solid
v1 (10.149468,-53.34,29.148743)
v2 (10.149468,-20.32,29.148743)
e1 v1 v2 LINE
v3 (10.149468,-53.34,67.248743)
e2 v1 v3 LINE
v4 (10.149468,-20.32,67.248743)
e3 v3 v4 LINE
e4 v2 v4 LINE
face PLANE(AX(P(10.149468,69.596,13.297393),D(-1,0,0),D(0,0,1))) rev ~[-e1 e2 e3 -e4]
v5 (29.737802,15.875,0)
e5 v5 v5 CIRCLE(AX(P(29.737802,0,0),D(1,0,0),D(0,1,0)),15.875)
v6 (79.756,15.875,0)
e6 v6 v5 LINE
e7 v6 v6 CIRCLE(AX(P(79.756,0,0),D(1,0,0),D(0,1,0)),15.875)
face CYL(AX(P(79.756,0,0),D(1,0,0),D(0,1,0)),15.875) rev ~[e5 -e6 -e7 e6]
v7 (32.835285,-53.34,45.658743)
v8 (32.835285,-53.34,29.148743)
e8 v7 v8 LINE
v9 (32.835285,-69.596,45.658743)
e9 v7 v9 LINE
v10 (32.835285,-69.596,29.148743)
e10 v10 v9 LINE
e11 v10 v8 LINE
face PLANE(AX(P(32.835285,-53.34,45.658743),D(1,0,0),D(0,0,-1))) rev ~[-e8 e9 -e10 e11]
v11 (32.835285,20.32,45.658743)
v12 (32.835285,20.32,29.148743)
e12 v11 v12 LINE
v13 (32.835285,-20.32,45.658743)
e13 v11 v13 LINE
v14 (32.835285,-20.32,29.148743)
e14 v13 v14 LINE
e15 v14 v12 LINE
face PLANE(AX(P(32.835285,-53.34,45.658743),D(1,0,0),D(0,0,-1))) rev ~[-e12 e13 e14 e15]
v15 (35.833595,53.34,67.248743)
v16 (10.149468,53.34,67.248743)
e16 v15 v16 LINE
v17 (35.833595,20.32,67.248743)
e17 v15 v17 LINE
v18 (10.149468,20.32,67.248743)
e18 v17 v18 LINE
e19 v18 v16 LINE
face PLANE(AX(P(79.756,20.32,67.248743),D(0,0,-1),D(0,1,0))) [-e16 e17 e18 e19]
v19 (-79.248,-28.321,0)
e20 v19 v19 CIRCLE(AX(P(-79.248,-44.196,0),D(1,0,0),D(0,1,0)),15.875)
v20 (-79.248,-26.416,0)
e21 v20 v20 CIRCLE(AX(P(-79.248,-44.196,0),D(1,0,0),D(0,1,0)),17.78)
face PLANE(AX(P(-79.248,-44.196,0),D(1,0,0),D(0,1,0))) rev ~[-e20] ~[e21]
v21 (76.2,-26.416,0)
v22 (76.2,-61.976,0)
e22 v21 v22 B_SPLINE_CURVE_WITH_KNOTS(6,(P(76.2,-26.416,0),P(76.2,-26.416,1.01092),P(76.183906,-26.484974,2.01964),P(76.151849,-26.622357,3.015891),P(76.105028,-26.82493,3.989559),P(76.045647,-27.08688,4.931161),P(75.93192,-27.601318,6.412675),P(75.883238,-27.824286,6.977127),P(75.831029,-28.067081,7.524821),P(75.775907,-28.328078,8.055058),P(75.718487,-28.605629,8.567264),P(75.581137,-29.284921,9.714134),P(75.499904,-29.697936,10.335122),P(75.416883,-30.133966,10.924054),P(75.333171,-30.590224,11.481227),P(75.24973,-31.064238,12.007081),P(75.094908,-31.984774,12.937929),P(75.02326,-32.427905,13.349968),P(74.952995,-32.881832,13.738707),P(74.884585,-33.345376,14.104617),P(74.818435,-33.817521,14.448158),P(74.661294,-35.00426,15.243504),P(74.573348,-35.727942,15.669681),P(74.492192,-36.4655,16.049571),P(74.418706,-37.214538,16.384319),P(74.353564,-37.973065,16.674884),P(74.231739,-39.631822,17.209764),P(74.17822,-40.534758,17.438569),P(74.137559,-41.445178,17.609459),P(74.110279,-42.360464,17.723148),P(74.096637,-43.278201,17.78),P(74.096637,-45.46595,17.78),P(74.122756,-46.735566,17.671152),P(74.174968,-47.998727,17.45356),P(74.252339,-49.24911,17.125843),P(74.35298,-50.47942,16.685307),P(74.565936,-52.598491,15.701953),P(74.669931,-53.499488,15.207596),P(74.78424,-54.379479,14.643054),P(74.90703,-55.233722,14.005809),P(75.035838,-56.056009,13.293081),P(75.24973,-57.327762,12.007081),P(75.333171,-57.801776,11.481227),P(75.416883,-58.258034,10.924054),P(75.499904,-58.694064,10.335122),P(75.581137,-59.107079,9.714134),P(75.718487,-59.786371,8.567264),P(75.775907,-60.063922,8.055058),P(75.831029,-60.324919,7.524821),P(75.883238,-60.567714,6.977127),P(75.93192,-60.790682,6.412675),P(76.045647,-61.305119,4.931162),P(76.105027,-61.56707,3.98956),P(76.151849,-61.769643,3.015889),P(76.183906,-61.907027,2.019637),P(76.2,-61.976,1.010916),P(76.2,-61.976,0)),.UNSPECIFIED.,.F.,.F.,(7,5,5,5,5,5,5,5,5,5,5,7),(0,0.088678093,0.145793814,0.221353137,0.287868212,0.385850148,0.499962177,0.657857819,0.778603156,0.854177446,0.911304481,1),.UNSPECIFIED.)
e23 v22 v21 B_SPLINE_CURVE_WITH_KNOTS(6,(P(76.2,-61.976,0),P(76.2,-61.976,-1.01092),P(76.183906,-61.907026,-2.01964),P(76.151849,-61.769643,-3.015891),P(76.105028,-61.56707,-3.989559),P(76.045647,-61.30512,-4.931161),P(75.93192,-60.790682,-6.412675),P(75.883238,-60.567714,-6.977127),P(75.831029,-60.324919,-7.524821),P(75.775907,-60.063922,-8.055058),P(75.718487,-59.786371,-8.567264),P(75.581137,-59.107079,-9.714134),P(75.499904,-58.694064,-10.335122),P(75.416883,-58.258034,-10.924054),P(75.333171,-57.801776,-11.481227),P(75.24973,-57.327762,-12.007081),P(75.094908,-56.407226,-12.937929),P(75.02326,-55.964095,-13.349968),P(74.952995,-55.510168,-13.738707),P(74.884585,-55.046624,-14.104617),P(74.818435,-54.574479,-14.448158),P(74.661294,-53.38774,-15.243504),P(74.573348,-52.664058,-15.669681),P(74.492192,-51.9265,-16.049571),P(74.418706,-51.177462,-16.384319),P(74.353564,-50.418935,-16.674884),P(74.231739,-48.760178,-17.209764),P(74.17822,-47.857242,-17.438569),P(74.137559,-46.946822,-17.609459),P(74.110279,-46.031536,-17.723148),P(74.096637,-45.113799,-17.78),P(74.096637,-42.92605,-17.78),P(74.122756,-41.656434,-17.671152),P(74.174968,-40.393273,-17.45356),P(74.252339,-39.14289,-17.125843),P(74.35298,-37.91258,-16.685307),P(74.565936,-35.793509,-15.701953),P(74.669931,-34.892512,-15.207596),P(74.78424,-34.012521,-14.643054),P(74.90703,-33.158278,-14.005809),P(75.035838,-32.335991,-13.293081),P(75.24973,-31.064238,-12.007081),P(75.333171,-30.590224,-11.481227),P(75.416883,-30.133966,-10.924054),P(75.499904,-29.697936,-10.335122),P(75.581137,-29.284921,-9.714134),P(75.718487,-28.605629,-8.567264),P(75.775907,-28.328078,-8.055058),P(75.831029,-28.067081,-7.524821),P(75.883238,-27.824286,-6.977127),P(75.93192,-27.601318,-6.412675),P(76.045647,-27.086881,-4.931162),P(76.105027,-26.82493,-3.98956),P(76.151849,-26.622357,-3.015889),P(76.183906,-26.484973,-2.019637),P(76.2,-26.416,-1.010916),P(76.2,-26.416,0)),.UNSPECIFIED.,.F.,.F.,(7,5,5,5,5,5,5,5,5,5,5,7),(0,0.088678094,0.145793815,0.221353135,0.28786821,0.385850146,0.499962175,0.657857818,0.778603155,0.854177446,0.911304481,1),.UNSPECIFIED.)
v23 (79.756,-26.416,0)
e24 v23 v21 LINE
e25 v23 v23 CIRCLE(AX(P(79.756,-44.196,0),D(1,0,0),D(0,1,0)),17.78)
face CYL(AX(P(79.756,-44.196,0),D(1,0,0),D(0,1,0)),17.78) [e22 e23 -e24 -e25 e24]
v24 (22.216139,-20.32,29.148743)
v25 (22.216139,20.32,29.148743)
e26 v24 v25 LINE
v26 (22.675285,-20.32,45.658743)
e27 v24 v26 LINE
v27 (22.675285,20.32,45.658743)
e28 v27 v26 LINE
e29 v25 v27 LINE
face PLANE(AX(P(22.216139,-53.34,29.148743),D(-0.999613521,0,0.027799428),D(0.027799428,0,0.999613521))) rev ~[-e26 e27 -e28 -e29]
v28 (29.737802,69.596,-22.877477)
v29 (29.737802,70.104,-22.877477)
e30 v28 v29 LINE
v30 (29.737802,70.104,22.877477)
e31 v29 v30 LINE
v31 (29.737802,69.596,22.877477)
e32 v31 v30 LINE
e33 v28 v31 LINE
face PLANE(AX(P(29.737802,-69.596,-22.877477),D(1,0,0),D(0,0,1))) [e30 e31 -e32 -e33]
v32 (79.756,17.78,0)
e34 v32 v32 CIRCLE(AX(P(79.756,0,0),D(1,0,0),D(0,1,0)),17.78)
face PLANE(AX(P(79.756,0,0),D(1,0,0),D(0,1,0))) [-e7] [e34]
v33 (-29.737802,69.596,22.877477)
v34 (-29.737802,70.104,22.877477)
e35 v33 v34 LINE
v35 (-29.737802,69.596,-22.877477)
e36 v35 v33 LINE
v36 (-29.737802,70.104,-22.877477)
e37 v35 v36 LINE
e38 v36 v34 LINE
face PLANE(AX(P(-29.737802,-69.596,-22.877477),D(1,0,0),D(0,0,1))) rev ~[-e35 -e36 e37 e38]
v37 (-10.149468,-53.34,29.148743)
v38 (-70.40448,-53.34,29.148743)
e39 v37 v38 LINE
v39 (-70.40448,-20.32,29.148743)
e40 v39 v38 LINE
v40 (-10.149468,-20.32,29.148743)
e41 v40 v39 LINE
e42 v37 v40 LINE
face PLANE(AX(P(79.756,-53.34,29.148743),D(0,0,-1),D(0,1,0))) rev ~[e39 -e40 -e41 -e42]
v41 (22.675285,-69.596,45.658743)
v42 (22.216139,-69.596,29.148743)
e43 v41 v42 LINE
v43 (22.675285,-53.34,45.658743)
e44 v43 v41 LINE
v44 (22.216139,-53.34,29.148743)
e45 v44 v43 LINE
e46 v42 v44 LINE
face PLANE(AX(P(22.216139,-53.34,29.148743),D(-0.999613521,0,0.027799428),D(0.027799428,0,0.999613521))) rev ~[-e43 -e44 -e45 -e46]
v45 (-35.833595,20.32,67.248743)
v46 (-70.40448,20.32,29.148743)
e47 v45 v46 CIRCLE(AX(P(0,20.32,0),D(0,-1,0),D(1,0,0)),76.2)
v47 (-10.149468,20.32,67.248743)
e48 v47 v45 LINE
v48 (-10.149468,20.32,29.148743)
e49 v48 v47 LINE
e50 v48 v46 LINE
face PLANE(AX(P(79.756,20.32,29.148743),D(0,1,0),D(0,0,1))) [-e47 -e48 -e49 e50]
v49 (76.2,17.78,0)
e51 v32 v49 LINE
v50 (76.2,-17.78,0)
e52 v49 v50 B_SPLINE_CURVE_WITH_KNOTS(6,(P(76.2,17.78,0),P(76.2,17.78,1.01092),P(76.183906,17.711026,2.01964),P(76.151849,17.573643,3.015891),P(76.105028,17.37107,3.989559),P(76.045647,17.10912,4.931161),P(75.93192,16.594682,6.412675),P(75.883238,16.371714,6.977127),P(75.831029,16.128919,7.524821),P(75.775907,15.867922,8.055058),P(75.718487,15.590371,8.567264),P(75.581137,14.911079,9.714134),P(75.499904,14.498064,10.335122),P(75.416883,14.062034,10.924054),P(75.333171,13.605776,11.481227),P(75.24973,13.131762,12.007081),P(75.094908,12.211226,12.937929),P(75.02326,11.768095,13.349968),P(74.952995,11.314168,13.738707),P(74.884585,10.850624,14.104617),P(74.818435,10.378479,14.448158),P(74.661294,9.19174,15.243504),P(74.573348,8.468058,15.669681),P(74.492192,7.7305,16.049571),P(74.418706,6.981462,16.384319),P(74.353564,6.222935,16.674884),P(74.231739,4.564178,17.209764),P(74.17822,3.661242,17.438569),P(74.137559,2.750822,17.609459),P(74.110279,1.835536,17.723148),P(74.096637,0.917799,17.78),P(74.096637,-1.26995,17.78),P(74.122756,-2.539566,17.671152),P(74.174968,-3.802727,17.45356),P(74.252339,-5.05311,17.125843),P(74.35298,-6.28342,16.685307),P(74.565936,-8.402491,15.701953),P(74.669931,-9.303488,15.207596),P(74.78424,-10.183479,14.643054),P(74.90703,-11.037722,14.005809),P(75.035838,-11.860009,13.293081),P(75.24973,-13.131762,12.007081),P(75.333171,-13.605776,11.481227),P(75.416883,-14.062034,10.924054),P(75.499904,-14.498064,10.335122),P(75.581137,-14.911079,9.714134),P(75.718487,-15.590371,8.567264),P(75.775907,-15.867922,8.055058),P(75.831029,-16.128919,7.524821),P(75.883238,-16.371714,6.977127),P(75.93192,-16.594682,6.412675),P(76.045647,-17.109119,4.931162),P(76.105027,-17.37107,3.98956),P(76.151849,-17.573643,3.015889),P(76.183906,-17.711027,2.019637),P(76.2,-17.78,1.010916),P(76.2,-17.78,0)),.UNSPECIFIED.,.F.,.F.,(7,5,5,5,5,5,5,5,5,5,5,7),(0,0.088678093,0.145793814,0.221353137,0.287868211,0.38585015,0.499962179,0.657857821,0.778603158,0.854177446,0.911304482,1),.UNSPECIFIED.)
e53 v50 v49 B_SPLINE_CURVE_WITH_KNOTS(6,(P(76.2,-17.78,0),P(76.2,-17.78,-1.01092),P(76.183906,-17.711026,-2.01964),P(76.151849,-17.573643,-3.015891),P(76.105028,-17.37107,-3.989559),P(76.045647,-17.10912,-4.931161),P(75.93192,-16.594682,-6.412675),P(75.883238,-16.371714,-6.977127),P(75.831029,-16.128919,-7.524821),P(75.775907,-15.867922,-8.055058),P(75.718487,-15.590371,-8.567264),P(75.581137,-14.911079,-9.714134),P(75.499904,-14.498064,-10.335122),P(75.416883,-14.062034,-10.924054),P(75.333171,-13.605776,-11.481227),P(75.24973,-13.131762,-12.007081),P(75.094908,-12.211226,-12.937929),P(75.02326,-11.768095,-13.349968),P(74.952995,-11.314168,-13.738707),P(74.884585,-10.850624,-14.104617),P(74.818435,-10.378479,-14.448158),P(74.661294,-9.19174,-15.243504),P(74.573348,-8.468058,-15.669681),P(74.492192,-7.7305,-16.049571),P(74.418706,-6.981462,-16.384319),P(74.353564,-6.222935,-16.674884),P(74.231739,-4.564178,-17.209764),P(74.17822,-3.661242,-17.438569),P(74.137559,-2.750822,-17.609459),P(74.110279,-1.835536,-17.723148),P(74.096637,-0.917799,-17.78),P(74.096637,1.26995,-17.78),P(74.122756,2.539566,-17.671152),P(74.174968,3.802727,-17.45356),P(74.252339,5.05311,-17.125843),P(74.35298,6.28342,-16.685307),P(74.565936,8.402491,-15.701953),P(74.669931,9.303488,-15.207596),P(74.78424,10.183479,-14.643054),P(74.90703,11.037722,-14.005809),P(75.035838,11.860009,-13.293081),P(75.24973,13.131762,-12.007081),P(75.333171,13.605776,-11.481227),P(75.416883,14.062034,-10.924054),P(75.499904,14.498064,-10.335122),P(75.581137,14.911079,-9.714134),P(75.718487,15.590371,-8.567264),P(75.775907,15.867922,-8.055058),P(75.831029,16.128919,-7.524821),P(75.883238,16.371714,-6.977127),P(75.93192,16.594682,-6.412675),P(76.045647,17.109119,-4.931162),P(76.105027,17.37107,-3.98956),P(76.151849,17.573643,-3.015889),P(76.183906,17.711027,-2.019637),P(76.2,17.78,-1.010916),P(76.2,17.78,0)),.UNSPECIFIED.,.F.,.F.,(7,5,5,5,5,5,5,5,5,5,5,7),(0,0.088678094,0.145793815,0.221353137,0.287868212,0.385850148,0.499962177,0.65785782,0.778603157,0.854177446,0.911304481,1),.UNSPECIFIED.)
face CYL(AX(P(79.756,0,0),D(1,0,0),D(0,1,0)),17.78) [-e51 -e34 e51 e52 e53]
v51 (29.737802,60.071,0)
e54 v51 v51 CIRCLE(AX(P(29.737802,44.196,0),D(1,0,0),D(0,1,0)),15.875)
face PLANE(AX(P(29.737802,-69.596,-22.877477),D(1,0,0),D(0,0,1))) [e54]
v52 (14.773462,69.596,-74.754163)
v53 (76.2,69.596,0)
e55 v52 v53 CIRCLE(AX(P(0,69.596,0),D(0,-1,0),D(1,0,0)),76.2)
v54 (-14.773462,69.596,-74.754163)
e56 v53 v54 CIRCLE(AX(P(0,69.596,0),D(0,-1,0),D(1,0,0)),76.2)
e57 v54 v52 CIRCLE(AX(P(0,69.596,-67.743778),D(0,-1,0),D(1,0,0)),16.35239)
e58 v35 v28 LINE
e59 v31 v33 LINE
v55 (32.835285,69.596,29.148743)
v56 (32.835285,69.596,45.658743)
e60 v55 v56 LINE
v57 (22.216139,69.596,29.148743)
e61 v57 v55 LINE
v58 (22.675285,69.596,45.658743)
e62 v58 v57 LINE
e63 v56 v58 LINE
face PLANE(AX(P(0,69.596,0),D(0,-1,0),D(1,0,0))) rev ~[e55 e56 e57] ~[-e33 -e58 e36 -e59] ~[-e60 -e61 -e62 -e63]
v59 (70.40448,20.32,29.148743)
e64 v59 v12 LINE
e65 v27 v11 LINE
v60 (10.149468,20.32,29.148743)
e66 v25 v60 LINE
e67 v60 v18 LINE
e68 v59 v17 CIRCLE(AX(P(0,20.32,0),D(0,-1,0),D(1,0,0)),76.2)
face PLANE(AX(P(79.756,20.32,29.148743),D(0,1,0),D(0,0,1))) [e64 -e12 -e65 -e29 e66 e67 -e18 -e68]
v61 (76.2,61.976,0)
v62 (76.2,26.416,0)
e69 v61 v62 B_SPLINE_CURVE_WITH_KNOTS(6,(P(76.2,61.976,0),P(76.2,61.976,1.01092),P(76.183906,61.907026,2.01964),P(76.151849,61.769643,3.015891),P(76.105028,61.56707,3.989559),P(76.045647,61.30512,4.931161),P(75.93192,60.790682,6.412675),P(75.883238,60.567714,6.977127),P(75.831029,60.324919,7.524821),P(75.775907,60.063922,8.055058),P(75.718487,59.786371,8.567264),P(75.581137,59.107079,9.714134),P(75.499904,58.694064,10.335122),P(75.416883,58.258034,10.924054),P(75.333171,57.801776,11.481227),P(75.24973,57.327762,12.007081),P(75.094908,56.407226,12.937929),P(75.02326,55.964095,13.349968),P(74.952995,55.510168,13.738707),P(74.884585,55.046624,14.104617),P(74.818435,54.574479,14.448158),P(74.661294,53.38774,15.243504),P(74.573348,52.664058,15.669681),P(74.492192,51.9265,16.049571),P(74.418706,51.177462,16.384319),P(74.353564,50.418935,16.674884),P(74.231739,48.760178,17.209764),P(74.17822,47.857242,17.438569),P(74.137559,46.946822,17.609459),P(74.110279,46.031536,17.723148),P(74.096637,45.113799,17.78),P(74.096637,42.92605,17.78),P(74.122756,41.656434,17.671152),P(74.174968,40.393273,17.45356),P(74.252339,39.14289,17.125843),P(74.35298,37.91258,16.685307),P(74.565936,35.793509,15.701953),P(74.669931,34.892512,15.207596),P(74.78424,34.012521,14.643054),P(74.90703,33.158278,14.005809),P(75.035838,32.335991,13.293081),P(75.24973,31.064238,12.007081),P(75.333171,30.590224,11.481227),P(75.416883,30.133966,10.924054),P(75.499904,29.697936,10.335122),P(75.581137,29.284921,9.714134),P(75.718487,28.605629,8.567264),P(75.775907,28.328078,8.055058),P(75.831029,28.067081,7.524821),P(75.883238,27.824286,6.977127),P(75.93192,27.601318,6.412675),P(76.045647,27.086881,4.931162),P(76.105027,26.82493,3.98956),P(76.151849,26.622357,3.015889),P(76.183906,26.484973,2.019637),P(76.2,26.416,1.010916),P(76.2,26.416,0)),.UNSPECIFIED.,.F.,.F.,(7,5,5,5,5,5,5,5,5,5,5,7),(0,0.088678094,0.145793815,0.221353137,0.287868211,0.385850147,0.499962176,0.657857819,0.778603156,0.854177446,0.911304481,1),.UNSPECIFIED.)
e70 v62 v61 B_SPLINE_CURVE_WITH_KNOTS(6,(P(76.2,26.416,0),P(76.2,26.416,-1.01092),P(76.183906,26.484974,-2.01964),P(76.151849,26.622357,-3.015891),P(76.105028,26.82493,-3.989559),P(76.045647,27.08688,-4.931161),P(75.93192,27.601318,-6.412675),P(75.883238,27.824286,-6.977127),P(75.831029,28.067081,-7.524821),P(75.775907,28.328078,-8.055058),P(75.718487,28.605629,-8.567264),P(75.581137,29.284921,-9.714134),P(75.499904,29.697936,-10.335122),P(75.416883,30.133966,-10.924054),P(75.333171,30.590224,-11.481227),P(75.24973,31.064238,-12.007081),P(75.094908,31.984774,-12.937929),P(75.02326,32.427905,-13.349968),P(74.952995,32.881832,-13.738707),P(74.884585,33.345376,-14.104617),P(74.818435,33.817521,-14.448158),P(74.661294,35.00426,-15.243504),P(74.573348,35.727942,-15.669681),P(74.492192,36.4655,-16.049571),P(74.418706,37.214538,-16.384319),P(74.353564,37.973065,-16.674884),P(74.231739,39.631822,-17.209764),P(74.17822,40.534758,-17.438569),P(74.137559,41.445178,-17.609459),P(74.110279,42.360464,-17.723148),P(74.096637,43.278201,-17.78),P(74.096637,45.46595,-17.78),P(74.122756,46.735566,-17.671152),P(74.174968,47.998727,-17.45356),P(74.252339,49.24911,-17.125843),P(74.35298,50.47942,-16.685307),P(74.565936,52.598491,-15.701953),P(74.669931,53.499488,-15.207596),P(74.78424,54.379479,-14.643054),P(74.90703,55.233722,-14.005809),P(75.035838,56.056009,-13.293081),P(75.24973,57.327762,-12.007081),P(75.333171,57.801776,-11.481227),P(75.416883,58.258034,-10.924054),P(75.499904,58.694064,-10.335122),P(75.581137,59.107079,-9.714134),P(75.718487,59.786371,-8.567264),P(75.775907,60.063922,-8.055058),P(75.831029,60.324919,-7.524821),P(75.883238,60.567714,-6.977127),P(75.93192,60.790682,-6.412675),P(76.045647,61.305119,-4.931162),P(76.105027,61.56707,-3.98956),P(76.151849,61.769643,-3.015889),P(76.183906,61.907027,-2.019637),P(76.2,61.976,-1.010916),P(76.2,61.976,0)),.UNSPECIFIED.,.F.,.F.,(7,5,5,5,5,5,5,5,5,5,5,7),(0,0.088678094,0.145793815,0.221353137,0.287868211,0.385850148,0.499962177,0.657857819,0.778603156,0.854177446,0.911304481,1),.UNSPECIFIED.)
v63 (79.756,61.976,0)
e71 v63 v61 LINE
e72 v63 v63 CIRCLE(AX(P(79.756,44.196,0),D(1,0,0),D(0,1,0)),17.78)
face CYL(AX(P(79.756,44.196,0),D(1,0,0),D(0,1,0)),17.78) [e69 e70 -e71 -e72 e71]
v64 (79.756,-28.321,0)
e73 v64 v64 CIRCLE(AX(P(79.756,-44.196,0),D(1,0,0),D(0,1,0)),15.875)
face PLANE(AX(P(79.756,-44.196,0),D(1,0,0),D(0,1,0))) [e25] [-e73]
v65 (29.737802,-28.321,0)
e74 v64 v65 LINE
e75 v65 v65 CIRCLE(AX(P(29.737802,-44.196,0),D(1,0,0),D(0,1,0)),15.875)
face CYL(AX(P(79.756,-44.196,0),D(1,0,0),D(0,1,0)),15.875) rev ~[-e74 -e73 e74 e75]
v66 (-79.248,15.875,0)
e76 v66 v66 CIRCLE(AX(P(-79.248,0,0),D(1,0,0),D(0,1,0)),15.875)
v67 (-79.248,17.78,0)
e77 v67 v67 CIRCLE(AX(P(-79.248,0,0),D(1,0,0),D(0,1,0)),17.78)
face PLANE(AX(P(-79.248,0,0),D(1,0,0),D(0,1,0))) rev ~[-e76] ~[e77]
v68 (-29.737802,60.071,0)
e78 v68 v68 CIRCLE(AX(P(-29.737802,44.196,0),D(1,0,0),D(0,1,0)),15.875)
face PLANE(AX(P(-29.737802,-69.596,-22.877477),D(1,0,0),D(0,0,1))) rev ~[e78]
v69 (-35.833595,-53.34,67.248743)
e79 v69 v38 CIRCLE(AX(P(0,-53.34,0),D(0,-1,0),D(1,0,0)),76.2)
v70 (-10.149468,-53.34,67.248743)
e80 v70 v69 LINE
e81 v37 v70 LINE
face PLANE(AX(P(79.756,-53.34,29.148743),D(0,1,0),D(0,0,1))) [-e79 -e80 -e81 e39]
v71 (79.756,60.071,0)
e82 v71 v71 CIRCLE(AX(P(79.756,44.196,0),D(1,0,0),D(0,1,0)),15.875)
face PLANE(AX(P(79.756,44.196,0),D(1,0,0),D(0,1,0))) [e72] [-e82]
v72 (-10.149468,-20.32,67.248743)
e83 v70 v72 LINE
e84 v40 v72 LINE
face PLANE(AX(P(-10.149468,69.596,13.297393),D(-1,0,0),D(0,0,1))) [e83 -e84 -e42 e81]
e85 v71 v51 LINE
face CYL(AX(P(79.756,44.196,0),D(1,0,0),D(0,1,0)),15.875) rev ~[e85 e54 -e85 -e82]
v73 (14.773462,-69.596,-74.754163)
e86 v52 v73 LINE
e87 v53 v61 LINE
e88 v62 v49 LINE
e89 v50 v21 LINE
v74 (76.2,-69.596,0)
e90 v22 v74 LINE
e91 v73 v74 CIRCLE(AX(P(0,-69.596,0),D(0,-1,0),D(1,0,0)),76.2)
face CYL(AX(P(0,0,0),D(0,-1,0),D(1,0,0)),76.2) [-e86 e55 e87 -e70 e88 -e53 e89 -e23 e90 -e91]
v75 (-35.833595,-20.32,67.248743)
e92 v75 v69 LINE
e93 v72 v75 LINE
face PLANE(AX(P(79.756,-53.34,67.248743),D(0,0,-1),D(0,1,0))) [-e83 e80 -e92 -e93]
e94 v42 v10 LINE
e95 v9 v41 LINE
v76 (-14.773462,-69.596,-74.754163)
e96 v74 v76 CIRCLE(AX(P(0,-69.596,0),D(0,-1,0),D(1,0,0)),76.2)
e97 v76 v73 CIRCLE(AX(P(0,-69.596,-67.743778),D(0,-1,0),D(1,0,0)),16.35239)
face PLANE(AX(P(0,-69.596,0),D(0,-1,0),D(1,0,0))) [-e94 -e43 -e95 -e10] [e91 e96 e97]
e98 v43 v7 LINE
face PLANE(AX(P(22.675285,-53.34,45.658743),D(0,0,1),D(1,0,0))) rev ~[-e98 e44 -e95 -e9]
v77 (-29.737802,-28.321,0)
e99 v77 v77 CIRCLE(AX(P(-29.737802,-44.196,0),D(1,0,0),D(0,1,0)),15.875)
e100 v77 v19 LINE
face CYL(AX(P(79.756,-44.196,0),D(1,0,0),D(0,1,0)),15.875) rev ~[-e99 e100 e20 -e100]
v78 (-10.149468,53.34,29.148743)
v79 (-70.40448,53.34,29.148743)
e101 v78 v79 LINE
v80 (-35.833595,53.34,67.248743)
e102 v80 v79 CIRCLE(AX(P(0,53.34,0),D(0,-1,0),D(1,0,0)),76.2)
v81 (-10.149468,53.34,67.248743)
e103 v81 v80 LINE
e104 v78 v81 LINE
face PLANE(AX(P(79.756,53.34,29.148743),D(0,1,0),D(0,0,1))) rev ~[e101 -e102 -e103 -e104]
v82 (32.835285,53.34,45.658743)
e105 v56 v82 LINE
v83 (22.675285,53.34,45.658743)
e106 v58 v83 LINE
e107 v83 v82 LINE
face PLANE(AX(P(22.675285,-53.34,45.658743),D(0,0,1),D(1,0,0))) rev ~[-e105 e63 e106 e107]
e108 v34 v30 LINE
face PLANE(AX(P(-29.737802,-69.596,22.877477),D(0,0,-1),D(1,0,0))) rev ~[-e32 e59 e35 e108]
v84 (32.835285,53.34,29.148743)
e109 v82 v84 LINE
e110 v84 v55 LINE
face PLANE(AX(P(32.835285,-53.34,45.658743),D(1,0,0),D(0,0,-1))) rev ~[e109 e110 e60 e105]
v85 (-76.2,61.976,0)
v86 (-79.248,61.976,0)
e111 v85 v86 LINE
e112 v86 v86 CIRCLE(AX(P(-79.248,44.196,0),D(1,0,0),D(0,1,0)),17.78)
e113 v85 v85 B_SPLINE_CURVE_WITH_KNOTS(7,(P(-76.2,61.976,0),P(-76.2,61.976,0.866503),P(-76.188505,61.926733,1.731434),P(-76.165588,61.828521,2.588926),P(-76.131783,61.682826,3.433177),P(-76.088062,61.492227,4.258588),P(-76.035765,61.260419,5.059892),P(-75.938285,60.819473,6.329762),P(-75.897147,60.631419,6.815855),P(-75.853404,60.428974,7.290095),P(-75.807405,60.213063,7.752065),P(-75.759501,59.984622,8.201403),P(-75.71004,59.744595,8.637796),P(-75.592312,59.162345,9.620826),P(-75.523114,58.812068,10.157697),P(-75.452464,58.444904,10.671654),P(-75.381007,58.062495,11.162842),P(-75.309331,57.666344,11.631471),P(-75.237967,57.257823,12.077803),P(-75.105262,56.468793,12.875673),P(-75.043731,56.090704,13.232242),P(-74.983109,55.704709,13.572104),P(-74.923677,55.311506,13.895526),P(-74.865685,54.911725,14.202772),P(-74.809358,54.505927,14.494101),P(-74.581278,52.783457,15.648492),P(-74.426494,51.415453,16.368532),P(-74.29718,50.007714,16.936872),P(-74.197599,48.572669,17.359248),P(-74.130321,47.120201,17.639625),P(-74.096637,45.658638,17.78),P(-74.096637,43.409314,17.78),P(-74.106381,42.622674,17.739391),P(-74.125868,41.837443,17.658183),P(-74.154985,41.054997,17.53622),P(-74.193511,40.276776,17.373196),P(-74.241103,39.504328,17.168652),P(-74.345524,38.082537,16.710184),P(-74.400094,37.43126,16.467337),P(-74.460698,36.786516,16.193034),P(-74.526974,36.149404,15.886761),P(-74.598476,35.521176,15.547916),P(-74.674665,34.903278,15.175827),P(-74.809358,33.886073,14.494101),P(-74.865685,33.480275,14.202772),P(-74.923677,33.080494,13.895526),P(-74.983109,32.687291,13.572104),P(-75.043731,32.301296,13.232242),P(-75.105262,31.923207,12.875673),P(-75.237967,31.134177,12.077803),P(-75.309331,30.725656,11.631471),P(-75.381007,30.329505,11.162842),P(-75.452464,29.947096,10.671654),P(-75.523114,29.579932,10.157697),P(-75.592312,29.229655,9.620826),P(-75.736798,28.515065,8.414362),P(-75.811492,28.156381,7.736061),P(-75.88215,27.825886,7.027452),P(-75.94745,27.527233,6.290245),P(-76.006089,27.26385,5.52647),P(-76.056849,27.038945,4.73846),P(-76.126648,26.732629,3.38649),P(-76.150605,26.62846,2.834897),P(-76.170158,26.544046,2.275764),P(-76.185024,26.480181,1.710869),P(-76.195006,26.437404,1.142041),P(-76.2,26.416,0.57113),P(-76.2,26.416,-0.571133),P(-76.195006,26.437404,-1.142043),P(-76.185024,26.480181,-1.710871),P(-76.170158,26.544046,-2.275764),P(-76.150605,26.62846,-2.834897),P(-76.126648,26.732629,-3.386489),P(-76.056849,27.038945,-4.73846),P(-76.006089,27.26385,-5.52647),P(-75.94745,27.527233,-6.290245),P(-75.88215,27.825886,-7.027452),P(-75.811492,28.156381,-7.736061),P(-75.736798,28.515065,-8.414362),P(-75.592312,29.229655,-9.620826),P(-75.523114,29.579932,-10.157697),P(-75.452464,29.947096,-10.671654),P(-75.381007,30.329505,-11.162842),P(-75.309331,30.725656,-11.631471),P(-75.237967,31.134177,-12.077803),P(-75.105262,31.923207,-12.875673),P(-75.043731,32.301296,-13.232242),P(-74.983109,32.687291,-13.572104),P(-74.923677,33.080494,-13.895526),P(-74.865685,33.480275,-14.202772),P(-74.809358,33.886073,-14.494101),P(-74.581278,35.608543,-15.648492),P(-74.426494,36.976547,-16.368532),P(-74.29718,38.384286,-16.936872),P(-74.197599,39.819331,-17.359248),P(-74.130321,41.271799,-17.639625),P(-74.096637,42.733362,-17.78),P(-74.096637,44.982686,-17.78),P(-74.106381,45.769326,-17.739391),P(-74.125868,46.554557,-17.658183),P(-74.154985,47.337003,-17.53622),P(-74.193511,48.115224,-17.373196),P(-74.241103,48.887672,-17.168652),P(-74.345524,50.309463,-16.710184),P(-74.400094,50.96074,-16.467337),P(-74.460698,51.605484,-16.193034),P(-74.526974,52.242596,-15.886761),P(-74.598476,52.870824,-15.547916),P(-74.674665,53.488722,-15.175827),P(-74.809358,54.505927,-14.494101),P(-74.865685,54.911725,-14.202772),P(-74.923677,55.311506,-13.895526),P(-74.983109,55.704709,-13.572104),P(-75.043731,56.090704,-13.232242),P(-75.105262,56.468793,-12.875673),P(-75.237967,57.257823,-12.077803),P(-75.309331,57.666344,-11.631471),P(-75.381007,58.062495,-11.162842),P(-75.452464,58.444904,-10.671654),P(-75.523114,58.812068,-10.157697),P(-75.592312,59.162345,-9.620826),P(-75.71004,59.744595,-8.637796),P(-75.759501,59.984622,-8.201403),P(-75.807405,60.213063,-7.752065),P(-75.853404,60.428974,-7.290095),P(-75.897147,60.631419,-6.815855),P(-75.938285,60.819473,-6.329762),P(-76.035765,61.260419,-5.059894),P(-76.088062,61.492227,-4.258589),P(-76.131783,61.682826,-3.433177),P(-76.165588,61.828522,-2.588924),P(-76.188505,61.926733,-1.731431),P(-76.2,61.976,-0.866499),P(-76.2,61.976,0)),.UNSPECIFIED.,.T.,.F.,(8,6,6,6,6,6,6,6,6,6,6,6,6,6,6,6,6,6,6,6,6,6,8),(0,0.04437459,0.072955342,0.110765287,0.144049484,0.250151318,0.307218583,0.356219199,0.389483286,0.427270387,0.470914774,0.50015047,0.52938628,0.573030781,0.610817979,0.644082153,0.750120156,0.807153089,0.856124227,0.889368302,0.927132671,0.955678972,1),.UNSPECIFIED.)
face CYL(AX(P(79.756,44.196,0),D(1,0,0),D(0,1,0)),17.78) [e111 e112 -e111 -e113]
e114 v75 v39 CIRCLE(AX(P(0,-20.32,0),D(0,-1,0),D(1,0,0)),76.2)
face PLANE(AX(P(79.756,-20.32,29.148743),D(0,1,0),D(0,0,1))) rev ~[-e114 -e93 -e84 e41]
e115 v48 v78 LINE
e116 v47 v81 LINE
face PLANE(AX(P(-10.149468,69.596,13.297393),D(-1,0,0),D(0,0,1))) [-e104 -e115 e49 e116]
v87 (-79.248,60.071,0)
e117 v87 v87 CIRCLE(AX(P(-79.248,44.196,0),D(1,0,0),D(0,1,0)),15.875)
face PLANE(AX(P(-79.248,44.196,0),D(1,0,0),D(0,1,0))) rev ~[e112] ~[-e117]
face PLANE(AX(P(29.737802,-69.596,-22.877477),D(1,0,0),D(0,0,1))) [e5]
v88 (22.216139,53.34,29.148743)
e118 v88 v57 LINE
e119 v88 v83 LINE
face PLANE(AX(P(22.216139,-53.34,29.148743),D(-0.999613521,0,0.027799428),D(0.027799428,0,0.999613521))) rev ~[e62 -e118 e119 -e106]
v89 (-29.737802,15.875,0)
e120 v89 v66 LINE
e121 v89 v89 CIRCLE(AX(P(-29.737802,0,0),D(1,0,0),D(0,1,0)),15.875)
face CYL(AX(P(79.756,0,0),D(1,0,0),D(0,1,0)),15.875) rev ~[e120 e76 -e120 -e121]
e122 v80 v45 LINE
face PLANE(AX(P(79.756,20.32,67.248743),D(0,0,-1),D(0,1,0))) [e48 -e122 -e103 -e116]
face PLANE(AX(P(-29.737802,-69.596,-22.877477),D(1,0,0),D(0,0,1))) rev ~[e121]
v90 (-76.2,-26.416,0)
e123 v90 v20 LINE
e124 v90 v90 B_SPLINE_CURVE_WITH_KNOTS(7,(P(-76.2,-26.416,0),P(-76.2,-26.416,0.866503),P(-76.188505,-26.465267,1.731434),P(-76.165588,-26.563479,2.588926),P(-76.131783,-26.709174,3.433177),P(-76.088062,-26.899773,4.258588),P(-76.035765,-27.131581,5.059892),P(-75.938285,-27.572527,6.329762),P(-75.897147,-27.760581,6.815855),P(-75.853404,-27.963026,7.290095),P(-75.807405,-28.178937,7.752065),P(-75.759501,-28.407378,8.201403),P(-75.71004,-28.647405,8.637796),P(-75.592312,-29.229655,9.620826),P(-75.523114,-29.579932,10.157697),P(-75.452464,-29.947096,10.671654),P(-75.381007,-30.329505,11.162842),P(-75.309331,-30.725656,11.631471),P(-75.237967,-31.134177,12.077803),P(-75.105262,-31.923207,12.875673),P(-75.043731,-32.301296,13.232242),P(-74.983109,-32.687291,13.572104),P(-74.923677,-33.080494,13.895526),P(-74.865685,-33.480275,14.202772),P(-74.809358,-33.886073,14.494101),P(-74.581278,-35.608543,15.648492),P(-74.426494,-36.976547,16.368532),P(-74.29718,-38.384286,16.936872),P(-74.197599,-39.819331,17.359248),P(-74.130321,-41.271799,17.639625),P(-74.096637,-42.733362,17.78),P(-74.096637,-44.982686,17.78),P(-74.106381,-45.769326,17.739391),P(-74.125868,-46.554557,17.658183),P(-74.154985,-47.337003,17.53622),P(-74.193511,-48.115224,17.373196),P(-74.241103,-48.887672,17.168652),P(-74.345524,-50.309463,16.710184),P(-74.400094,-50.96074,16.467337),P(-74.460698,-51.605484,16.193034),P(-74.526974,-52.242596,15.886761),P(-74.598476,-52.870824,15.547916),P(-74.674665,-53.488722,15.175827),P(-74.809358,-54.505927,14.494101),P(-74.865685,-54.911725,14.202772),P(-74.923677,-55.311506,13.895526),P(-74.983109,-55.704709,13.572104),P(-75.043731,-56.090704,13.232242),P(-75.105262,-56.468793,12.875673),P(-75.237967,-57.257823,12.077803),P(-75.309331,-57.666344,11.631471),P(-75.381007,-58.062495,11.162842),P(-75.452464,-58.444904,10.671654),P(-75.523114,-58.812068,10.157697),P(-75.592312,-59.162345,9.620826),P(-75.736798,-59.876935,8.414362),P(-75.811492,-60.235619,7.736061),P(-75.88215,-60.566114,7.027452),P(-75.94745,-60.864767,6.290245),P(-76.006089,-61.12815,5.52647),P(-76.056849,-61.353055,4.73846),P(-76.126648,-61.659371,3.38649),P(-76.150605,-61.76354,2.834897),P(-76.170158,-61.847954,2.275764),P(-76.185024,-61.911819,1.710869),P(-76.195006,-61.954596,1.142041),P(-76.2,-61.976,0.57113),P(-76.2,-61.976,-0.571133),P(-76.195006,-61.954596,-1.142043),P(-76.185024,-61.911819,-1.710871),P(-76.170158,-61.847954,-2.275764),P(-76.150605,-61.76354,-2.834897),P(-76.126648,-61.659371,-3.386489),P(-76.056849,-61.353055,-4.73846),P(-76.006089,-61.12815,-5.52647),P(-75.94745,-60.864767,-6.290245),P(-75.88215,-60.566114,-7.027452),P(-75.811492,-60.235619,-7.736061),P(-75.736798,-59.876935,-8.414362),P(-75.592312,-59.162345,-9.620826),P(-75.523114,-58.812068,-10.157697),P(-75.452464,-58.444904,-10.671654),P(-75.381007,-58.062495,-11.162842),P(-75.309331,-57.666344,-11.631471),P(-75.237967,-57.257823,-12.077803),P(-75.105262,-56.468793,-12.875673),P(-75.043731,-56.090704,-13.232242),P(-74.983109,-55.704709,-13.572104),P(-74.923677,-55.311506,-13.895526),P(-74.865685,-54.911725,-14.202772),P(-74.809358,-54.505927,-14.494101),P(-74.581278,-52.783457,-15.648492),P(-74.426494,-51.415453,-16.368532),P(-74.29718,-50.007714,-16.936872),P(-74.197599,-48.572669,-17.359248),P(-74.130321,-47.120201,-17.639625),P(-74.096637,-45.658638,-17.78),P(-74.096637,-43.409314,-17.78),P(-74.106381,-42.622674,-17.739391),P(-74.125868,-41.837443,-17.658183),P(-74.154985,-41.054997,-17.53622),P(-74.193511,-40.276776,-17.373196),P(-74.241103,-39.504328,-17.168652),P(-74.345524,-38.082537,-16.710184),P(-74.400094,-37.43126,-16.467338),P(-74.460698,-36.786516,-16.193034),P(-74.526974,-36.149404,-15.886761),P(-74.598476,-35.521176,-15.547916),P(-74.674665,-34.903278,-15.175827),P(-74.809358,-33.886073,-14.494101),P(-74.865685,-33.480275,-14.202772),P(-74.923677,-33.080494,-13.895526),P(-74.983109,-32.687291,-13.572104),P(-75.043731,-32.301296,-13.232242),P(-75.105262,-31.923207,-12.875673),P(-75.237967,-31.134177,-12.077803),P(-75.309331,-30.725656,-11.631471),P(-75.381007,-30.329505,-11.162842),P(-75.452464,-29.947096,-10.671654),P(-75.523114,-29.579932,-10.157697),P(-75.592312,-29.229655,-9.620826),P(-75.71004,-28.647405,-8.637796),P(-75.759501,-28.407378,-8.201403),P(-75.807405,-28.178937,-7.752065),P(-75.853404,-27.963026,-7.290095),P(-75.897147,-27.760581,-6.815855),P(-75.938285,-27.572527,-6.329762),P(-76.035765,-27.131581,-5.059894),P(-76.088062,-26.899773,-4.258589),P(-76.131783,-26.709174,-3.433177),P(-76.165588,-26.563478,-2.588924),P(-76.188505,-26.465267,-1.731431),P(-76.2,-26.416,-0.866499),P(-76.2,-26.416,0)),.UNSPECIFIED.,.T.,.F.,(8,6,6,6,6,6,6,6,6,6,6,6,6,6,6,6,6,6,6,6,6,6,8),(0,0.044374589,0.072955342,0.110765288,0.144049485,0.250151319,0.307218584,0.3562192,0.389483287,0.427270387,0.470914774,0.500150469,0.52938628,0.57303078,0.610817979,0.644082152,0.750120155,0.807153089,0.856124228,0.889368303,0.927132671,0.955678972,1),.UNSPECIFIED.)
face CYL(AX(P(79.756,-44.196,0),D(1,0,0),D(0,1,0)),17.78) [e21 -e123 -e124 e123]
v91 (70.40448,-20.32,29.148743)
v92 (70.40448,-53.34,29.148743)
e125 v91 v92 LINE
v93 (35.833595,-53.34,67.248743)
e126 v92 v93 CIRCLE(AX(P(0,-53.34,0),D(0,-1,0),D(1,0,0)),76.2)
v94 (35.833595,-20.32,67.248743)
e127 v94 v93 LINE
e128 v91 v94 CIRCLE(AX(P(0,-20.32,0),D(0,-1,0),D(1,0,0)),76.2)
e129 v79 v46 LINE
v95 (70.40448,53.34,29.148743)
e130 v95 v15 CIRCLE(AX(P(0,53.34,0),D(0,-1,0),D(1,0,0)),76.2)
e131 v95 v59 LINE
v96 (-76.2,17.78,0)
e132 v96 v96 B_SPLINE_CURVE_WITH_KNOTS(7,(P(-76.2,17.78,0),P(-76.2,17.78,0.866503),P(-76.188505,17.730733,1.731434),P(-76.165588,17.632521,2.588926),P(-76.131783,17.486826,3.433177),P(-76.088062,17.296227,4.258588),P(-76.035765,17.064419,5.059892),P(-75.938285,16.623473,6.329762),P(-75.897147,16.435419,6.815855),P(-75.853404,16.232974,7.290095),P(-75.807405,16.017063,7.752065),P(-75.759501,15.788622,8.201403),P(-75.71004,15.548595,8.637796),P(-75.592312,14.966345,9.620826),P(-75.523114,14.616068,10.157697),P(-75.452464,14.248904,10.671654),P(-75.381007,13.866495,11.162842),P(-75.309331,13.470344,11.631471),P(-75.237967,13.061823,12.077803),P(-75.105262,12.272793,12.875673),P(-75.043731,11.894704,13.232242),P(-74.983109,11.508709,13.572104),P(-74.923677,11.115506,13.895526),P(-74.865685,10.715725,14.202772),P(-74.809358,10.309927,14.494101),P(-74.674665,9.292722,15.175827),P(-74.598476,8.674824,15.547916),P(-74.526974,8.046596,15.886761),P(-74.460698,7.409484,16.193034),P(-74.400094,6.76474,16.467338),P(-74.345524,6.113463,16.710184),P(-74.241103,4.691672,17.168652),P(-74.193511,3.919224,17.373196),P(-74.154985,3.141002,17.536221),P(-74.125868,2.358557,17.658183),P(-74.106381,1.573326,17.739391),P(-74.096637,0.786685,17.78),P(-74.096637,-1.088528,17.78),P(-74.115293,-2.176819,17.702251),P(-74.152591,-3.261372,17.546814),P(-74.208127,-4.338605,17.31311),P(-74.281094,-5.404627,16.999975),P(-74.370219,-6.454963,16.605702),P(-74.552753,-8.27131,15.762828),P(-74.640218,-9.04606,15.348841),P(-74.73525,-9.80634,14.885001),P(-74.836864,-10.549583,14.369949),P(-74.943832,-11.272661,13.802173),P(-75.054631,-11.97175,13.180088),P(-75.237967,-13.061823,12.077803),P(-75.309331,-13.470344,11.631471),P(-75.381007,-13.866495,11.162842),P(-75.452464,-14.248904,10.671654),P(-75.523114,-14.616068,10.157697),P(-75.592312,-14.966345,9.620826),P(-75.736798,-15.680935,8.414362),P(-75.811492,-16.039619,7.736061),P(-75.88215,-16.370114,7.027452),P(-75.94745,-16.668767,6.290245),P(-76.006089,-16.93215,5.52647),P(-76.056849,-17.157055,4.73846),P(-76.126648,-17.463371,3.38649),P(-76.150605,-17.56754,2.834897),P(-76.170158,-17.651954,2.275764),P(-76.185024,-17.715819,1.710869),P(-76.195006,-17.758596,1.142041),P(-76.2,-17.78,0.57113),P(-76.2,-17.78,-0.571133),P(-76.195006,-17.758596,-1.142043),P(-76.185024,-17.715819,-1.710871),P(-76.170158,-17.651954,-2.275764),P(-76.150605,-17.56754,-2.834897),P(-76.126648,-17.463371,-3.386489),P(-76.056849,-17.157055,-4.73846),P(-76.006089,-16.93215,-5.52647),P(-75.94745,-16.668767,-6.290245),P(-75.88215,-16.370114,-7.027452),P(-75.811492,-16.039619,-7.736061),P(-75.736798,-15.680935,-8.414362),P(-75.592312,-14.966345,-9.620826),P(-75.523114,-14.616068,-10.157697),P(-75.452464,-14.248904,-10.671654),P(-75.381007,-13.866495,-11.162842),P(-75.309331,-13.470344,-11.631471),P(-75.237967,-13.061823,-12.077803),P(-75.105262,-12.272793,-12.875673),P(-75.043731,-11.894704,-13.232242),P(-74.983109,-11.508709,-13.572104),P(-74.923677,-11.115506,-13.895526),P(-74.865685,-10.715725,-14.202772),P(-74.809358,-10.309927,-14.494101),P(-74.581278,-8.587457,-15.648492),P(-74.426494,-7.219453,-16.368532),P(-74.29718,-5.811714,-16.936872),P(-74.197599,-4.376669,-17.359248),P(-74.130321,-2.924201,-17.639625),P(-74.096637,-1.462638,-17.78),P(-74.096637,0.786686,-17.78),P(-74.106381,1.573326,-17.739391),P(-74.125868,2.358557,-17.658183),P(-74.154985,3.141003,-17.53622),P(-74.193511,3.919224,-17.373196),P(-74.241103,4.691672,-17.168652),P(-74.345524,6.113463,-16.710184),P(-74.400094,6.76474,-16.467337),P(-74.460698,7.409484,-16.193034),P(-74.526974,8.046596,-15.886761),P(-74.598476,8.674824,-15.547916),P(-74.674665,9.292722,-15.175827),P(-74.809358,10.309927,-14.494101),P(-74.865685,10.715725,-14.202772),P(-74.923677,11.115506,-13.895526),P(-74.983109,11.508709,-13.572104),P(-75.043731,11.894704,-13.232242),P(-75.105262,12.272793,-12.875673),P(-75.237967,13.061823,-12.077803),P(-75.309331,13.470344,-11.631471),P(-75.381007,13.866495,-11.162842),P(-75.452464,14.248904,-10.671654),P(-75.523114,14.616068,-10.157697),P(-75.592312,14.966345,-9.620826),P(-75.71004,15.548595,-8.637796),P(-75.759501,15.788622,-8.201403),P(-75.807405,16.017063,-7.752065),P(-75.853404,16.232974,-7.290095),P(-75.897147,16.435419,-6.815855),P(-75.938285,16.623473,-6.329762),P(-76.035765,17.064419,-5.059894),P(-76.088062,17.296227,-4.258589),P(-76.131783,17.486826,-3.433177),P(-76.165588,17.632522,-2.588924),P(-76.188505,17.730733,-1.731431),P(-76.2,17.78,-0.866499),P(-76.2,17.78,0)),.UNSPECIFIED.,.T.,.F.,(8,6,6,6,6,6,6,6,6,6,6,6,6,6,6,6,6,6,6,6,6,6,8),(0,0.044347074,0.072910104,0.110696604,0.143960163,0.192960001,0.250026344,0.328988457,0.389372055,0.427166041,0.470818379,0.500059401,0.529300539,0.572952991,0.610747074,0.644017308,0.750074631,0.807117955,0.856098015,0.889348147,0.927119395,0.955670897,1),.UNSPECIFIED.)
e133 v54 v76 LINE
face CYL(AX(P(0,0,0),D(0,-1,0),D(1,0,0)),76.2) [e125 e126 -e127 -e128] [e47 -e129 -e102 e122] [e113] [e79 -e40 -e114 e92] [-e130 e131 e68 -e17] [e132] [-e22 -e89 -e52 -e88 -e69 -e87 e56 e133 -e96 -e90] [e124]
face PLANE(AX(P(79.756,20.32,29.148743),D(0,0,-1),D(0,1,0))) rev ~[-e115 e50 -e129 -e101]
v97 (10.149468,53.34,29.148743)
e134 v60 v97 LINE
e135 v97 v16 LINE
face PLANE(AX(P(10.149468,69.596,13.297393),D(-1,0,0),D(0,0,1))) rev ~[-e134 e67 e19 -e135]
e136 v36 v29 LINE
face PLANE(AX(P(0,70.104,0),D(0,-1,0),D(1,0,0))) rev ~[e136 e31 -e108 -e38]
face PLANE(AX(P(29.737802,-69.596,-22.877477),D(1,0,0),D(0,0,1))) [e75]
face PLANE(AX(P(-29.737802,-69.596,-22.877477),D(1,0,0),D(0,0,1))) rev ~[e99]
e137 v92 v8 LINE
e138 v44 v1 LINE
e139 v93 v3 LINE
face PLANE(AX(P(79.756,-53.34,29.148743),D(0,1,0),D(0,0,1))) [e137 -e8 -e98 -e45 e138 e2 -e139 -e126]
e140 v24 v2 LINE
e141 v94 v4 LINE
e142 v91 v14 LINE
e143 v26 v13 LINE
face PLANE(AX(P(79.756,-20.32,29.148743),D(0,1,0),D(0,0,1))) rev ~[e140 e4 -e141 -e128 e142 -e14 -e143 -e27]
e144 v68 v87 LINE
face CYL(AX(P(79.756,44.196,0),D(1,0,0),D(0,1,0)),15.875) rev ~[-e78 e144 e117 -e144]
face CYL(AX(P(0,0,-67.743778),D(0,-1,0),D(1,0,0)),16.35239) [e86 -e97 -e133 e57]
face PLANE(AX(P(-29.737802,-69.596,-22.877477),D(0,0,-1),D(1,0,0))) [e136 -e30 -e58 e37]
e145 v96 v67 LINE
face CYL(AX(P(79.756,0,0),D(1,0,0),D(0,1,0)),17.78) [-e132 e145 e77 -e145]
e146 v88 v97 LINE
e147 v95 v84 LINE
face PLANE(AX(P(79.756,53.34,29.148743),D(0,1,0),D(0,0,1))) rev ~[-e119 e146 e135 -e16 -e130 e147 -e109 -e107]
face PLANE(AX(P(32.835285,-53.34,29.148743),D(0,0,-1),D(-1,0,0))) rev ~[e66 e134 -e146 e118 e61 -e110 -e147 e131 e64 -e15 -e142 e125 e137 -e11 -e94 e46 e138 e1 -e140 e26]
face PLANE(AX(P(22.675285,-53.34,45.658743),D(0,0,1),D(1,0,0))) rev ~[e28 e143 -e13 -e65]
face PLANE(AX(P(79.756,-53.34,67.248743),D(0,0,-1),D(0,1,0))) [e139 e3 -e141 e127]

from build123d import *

# Parameters (mm, degrees)
F0_R      = 76.2
F1_DEPTH  = 69.596
F3_R      = 17.78
F4_DEPTH  = 159.004
F5_R      = 15.875
F6_DEPTH  = 258.064
F7_W      = 59.475604
F7_H      = 45.754954
F8_DEPTH  = 139.7
F9_W      = 33.02
F9_H      = 38.1
F10_DEPTH = 170.434
F11_W     = 20.298936
F11_H     = 62.223652
F12_DEPTH = 135.128
F13_R     = 16.35239
F14_DEPTH = 69.596
F16_DEPTH = 136.652


with BuildPart() as f1:
    # F0 (on Front) → F1 (new body, symmetric)
    with BuildSketch(Plane.XZ):
        Circle(F0_R)
    extrude(amount=F1_DEPTH, both=True)

    # F3 (on offset) → F4 (join)
    with BuildSketch(Plane.YZ.offset(79.756)):
        with Locations((-44.196, 0)):
            Circle(F3_R)
        Circle(F3_R)
        with Locations((44.196, 0)):
            Circle(F3_R)
    extrude(amount=-F4_DEPTH)

    # F5 (on offset) → F6 (cut)
    with BuildSketch(Plane.YZ.offset(79.756)):
        with Locations((-44.196, 0)):
            Circle(F5_R)
        Circle(F5_R)
        with Locations((44.196, 0)):
            Circle(F5_R)
    extrude(amount=-F6_DEPTH, mode=Mode.SUBTRACT)

    # F7 (on face) → F8 (join)
    with BuildSketch(Plane.XZ.offset(69.596)):
        Rectangle(F7_W, F7_H)
    extrude(amount=-F8_DEPTH)

    # F9 (on offset) → F10 (cut)
    with BuildSketch(Plane.YZ.offset(79.756)):
        with Locations((-36.83, 48.198743)):
            Rectangle(F9_W, F9_H)
        with Locations((36.83, 48.198743)):
            Rectangle(F9_W, F9_H)
    extrude(amount=-F10_DEPTH, mode=Mode.SUBTRACT)

    # F11 (on face) → F12 (join)
    with BuildSketch(Plane(origin=(0, 69.596, 0), x_dir=(-1, 0, 0), z_dir=(0, 1, 0))):
        with Locations((0, 44.409219)):
            Rectangle(F11_W, F11_H)
    extrude(amount=-F12_DEPTH)

    # F13 (on Front) → F14 (join, symmetric)
    with BuildSketch(Plane.XZ):
        with Locations((0, -67.743778)):
            Circle(F13_R)
    extrude(amount=F14_DEPTH, both=True)

    # F15 (on face) → F16 (cut, symmetric)
    with BuildSketch(Plane(origin=(0, -53.34, 0), x_dir=(-1, 0, 0), z_dir=(0, 1, 0))):
        Polygon((-32.835285, 45.658743), (-32.835285, 29.148743), (-22.216139, 29.148743), (-22.675285, 45.658743), align=None)
    extrude(amount=F16_DEPTH, both=True, mode=Mode.SUBTRACT)


solid = f1.part
